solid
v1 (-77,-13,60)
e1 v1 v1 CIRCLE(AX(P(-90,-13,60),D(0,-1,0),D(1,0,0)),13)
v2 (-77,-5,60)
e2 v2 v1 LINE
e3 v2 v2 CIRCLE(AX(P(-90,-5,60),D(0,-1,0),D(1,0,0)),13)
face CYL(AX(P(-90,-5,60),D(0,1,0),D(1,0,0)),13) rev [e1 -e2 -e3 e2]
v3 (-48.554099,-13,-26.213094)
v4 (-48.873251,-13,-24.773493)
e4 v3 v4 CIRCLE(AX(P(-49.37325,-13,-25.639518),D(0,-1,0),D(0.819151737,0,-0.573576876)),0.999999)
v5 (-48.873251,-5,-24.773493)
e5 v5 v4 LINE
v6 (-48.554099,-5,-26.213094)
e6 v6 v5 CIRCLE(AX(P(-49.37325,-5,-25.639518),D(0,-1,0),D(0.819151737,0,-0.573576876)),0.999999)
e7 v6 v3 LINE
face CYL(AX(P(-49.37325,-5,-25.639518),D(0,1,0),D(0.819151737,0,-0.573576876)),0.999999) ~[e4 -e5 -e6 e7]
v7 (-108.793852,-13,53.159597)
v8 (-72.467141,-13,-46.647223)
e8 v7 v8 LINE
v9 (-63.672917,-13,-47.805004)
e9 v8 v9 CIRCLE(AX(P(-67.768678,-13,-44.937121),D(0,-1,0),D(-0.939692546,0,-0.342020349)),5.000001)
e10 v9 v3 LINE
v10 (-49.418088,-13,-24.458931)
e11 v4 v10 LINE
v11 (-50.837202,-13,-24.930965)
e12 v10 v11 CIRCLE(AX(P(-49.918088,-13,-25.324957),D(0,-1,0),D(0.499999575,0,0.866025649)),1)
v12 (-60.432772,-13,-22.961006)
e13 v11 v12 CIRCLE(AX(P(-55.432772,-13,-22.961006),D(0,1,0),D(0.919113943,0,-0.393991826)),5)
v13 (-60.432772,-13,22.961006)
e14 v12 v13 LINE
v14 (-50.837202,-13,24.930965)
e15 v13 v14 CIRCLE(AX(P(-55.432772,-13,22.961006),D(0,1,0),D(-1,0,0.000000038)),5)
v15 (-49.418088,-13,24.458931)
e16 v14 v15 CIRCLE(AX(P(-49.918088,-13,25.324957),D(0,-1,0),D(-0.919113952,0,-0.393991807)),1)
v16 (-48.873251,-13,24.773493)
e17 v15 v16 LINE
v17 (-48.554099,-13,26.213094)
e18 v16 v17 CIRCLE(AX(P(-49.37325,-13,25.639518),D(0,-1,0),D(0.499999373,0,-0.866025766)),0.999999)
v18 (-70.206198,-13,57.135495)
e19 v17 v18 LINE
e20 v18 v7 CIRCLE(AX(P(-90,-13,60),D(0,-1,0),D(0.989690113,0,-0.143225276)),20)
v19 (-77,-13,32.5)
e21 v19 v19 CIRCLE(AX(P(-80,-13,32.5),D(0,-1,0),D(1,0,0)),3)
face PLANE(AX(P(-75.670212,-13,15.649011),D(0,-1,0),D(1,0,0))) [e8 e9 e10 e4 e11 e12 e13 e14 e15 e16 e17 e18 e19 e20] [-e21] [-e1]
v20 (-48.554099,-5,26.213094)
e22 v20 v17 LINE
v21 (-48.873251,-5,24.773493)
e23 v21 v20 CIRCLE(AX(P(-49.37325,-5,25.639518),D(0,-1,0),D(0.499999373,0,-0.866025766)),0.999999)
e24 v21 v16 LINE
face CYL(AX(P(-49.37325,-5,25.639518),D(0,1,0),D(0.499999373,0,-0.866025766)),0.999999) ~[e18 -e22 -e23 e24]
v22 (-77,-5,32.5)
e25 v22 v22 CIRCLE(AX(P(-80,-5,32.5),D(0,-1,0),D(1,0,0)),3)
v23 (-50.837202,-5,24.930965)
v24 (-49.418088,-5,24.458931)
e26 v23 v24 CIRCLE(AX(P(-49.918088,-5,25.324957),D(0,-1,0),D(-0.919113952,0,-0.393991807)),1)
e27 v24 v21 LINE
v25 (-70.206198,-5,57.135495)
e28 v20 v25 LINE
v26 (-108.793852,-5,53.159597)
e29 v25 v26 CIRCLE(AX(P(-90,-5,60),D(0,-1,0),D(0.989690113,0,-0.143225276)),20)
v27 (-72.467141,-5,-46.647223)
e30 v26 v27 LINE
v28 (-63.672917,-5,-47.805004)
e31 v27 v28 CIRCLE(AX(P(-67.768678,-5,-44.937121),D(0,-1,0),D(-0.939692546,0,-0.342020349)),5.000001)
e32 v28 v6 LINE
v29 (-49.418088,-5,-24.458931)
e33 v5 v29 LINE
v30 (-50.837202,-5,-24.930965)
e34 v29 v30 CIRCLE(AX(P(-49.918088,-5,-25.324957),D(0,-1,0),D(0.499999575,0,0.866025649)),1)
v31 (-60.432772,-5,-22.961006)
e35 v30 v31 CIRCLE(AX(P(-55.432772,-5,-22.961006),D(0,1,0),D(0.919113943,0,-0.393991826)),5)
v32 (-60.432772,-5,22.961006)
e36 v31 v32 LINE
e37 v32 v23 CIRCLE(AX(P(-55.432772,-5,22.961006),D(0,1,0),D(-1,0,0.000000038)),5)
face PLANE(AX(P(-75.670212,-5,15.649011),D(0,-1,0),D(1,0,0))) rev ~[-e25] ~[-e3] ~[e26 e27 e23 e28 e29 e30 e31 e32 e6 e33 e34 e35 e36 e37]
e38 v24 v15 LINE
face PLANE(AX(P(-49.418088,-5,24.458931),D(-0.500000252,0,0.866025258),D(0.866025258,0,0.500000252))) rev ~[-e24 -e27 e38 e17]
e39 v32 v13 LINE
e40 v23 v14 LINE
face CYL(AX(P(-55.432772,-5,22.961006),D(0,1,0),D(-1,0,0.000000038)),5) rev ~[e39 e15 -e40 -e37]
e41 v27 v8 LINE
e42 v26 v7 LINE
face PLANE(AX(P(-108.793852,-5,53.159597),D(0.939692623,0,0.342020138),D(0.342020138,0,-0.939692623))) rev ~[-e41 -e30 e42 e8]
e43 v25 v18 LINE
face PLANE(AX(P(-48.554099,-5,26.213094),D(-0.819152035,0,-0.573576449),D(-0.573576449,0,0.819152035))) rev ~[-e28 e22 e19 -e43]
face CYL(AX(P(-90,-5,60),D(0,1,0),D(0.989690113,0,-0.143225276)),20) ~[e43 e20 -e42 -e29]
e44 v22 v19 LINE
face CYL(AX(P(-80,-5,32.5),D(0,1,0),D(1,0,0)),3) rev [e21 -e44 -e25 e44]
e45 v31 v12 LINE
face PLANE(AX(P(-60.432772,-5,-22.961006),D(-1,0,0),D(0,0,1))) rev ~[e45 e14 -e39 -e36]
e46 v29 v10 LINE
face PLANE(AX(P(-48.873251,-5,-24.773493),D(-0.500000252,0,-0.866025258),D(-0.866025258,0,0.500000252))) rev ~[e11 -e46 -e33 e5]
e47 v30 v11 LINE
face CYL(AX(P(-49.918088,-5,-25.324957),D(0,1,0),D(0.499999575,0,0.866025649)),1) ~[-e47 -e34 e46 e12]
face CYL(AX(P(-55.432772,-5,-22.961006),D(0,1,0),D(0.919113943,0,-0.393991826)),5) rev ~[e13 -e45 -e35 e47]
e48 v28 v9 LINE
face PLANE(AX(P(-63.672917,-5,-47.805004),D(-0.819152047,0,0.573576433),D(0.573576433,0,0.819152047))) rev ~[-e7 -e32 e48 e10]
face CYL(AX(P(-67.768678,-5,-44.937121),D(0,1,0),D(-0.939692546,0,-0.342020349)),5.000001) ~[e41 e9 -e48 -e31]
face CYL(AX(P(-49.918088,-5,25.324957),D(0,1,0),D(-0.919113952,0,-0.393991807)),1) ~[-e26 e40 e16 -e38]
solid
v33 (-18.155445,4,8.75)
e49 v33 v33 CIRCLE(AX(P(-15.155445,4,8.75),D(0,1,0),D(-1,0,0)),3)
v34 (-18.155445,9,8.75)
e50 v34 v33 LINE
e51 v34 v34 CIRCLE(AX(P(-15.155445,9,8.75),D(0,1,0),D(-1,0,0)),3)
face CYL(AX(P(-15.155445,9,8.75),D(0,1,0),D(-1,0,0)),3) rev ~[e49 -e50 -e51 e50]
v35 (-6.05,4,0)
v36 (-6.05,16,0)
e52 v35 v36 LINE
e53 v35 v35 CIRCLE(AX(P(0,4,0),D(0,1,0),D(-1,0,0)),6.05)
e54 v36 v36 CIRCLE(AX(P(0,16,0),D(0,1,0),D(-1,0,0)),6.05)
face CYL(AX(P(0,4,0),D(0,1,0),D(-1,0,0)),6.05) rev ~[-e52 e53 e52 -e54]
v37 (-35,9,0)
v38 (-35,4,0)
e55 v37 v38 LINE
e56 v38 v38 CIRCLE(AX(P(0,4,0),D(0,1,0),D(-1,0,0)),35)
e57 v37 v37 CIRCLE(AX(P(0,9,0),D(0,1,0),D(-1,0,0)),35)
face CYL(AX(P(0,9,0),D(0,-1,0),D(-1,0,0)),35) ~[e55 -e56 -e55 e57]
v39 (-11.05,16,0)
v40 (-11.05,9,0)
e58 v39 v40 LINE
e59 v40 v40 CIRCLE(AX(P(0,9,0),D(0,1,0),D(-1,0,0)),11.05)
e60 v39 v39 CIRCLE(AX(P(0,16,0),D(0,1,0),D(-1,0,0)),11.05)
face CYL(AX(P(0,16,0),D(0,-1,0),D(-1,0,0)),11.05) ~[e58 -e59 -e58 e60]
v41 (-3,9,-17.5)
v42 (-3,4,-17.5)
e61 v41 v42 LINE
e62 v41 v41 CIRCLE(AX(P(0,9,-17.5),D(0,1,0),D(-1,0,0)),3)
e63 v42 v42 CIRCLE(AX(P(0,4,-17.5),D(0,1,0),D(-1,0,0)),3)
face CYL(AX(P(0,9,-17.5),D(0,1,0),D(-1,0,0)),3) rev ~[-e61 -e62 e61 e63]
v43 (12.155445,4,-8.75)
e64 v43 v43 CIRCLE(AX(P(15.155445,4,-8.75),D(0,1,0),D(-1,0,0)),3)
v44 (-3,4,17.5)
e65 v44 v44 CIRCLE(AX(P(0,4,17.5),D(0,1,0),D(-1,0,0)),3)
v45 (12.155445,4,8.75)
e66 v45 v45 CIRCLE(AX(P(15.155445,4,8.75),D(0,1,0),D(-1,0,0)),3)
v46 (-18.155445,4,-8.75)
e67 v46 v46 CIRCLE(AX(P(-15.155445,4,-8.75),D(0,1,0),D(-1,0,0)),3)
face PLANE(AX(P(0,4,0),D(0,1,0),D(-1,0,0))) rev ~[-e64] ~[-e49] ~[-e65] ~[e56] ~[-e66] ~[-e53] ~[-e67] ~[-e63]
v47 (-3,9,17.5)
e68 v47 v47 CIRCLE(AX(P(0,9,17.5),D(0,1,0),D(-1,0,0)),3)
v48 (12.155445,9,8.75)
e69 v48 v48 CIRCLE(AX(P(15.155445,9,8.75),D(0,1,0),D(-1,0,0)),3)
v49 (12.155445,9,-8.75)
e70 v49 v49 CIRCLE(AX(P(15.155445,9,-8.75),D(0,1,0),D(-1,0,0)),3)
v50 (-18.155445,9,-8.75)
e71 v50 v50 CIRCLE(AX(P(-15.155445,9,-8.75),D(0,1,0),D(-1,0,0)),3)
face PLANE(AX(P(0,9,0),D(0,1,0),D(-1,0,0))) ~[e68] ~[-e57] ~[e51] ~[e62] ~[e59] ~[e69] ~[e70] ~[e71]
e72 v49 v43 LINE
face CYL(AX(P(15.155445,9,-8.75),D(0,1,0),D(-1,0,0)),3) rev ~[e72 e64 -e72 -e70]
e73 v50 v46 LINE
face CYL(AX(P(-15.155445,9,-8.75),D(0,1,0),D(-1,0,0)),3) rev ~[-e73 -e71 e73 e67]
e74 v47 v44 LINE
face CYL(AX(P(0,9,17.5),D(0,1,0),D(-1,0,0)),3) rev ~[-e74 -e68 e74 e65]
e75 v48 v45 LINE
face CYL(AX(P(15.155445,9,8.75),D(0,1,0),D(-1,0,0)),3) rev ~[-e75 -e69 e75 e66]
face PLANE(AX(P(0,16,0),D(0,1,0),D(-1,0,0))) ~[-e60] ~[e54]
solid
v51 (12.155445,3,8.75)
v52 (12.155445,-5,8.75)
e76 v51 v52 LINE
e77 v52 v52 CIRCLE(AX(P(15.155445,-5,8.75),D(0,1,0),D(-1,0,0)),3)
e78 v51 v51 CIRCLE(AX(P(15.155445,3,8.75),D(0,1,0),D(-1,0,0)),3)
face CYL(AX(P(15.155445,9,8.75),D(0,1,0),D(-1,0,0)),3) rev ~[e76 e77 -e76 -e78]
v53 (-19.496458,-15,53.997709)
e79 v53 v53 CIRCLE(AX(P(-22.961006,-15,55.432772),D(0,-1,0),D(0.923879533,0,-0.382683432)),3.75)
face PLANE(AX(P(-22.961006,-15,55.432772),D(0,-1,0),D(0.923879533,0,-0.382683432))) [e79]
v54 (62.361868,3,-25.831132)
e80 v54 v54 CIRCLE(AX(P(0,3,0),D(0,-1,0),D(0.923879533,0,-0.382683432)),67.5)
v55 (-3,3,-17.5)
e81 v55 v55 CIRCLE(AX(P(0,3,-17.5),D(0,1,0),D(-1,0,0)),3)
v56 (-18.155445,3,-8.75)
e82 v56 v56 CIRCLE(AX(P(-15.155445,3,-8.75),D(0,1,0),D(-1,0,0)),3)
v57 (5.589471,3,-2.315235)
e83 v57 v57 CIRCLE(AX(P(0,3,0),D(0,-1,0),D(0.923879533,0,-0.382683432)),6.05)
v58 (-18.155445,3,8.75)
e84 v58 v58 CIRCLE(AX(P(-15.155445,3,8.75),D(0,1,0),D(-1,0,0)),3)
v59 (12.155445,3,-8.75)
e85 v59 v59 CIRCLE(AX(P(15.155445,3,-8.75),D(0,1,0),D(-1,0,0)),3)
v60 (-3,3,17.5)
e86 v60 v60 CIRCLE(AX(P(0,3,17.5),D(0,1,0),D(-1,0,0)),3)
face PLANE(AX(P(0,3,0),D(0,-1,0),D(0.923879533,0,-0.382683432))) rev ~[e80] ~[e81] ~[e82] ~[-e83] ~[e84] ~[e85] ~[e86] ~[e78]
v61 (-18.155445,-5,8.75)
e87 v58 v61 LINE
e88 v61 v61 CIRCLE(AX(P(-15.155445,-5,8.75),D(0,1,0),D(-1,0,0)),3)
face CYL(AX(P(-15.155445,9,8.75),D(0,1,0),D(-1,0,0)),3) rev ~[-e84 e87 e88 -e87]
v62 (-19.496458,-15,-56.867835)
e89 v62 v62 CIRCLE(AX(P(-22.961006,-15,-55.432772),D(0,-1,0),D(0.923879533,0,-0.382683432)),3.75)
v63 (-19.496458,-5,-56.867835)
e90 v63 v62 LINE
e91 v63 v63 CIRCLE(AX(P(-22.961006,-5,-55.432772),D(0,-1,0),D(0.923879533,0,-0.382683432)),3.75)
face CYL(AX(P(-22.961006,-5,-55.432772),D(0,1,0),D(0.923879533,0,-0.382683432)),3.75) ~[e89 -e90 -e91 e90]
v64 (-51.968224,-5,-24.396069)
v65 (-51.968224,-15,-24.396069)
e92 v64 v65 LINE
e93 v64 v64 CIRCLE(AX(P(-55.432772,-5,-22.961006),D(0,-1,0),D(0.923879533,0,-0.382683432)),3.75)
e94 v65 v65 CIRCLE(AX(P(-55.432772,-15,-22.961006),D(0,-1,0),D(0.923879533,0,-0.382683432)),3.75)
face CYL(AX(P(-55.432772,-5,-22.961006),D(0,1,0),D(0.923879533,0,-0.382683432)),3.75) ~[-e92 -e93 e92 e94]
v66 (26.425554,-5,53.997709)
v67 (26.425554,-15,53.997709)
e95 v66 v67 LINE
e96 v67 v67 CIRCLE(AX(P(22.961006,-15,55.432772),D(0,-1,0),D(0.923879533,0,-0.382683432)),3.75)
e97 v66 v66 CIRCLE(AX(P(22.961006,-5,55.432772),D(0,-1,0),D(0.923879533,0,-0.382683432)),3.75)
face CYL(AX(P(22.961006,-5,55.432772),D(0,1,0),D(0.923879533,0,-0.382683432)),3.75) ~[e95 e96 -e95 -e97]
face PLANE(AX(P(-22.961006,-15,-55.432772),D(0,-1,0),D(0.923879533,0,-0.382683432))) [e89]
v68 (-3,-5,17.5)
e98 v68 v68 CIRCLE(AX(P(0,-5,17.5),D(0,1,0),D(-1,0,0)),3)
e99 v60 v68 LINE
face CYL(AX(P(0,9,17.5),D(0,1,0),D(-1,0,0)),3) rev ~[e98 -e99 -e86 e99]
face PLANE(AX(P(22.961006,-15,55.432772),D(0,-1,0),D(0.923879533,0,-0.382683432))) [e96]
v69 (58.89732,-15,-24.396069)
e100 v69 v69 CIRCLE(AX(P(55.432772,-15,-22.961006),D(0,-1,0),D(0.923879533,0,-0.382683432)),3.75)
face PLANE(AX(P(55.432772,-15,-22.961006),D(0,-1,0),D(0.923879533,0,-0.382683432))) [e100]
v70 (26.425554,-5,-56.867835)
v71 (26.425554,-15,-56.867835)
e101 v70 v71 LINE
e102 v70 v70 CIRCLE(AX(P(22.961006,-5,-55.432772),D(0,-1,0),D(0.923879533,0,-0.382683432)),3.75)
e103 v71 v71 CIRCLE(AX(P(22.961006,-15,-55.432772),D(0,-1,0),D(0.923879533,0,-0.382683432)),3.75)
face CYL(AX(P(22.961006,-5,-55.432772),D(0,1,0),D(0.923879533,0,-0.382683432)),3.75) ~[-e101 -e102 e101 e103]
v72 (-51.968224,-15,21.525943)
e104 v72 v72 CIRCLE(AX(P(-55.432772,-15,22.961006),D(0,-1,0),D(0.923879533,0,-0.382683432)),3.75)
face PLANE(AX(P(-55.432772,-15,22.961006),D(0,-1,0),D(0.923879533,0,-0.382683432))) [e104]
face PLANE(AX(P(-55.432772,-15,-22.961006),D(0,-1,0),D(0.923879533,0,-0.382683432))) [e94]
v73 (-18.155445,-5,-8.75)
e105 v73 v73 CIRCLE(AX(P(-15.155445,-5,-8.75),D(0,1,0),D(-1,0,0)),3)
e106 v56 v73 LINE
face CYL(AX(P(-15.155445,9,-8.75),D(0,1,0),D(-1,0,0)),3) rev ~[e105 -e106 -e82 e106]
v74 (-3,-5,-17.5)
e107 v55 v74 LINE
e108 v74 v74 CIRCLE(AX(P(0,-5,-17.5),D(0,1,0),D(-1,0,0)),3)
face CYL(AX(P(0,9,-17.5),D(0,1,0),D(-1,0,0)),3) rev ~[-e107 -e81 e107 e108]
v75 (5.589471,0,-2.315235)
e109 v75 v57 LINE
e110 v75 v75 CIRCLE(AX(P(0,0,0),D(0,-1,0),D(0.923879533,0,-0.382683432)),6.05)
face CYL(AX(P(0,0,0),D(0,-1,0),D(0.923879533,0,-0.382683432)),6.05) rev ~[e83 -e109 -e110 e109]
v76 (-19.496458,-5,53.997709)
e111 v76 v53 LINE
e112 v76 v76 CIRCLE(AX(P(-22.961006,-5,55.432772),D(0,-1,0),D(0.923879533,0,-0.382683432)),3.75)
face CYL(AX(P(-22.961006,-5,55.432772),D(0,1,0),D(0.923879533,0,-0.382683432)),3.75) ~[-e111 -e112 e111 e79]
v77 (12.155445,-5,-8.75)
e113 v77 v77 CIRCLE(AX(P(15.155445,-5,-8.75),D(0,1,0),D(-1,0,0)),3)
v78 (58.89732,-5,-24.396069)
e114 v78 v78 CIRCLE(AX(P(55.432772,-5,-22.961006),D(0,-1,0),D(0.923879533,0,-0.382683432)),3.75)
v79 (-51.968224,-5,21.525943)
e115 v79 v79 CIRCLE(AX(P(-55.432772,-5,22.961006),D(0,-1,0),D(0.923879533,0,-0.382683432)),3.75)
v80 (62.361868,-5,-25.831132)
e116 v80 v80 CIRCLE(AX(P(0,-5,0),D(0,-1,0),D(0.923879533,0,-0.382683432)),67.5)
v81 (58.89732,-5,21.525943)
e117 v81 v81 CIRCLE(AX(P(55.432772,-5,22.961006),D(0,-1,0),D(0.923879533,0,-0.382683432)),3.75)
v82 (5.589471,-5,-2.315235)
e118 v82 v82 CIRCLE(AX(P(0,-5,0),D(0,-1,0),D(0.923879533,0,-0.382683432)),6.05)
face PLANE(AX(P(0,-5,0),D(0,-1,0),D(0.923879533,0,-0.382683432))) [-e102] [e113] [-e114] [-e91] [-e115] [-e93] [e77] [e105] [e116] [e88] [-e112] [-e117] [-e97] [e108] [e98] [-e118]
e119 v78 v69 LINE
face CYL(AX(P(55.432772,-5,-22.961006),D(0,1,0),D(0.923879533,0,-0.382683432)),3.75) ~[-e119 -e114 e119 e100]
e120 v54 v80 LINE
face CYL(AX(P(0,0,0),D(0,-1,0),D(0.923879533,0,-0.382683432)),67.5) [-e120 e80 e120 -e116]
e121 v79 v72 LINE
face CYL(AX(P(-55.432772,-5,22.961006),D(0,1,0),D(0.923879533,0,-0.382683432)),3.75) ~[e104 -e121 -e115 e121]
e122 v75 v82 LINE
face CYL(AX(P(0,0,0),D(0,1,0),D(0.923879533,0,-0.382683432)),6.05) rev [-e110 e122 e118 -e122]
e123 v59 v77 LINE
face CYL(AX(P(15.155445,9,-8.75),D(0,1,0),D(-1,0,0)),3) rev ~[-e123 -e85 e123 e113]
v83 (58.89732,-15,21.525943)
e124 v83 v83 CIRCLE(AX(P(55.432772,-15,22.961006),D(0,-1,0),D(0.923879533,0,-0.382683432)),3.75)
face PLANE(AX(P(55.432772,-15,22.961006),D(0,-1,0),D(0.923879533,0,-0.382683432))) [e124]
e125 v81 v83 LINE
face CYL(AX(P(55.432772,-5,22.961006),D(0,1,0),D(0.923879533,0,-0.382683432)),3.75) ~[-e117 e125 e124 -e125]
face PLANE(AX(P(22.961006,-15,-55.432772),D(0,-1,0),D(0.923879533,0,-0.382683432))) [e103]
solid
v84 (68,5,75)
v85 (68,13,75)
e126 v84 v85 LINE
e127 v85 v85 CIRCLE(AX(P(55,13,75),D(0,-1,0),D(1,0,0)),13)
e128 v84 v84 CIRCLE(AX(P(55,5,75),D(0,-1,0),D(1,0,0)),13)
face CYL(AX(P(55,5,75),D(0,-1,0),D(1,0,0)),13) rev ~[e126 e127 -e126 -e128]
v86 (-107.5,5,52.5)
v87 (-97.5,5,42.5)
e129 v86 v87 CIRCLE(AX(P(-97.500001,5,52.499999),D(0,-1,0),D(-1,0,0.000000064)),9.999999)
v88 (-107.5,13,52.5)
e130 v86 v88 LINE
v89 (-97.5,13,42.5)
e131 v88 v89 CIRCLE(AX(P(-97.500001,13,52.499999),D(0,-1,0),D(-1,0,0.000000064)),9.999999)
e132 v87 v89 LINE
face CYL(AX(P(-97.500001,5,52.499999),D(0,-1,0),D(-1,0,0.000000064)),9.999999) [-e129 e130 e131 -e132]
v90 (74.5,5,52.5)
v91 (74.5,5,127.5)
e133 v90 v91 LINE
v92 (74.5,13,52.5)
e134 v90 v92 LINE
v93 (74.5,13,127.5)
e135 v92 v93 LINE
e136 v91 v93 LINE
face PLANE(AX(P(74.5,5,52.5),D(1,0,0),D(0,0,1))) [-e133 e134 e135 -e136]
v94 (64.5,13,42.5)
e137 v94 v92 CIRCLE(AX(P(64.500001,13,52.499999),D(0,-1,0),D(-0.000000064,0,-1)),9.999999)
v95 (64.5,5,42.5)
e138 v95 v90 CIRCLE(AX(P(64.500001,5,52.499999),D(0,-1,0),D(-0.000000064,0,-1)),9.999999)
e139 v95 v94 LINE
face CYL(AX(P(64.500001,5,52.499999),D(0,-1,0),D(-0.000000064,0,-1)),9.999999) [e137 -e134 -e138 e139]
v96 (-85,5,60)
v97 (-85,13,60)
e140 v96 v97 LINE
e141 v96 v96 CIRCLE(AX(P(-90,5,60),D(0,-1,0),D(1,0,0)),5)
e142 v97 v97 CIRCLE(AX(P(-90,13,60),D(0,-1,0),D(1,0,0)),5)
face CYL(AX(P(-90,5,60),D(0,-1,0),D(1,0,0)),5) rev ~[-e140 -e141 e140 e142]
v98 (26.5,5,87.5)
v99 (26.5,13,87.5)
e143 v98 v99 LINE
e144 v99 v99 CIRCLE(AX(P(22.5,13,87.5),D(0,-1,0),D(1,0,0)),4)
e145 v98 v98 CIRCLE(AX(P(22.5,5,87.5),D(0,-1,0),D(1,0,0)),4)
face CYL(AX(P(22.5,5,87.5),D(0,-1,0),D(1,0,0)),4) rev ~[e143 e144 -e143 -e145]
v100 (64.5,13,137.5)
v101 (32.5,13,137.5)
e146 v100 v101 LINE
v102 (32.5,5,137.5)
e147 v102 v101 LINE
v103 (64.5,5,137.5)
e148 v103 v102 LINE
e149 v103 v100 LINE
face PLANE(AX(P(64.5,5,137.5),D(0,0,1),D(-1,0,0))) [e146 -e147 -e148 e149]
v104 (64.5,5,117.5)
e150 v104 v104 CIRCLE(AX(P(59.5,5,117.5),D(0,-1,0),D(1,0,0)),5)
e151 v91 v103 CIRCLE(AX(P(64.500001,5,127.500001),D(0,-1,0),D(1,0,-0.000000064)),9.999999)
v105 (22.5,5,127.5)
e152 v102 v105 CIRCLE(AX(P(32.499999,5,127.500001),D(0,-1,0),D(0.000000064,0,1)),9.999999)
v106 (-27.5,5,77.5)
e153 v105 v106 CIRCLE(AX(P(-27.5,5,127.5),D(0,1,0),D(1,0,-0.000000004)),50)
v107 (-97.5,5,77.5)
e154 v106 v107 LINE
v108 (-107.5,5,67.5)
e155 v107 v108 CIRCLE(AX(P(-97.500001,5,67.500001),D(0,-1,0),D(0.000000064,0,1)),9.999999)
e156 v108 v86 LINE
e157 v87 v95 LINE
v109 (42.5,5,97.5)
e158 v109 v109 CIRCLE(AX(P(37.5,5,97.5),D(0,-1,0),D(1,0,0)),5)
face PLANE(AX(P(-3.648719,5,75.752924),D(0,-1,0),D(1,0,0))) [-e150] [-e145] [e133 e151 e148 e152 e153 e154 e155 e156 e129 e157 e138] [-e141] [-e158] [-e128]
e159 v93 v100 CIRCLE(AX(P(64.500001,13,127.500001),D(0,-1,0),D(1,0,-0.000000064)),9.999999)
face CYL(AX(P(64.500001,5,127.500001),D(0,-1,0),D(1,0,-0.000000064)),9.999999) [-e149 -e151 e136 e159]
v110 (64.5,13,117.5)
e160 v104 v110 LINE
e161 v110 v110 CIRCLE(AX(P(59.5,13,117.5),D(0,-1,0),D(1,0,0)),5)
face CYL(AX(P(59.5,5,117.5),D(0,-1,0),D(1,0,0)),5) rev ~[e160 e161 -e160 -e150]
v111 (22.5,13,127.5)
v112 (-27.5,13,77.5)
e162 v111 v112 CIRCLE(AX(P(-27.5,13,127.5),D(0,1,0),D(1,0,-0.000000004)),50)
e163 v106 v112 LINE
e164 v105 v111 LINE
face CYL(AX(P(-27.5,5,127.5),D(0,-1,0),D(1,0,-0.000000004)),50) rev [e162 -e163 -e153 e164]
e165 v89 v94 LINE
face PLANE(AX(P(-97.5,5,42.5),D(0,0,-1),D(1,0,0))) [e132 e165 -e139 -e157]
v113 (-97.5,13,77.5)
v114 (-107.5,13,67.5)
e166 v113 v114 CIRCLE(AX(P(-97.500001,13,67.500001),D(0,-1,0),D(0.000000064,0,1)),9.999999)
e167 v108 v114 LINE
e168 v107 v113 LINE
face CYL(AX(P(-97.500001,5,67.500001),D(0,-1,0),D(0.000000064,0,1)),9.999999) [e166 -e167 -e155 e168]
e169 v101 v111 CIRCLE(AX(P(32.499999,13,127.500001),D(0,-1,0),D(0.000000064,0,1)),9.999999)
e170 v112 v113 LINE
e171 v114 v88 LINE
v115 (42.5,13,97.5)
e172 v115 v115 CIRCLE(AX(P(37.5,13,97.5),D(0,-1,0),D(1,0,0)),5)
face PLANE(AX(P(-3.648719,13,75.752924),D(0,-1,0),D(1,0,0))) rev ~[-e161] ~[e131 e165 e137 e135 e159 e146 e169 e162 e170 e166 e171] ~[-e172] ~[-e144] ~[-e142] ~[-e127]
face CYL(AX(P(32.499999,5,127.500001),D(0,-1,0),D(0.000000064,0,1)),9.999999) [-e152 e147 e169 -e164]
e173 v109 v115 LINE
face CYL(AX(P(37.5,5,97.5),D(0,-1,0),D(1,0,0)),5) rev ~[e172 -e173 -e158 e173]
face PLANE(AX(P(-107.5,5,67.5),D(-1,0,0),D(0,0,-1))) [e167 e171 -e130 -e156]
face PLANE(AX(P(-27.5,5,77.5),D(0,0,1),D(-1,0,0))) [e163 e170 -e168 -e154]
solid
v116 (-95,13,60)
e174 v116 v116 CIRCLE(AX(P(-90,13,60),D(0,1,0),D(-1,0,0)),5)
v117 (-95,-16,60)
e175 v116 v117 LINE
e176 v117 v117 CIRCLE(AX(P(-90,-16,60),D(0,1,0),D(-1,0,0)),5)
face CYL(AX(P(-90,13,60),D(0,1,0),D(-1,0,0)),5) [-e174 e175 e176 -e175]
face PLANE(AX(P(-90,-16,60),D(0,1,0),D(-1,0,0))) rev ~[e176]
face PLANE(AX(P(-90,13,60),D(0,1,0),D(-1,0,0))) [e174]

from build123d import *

# Parameters (mm, degrees)
F0_R          = 67.5
F0_R_2        = 6.05
F1_DEPTH      = 5
F1_DEPTH_BACK = 3
F2_R          = 3.75
F3_DEPTH      = 10
F6_ANGLE      = 22.5
F5_R          = 5
F5_R_2        = 4
F5_R_3        = 13
F7_DEPTH      = 8
F9_R          = 3
F9_R_2        = 13
F10_DEPTH     = 8
F13_R         = 3
F14_DEPTH     = 25
F15_R         = 5
F16_DEPTH     = 29


with BuildPart() as f1:
    # F0 (on Front) → F1 (new body, two sides)
    with BuildSketch(Plane.XZ) as f1_sk:
        Circle(F0_R)
        Circle(F0_R_2, mode=Mode.SUBTRACT)
    extrude(amount=F1_DEPTH)
    extrude(f1_sk.sketch, amount=-F1_DEPTH_BACK)

    # F2 (on face) → F3 (join)
    with BuildSketch(Plane.XZ.offset(5)):
        with Locations((0, 60)):
            Circle(F2_R)
        with Locations((-42.426407, 42.426407)):
            Circle(F2_R)
        with Locations((-60, 0)):
            Circle(F2_R)
        with Locations((-42.426407, -42.426407)):
            Circle(F2_R)
        with Locations((0, -60)):
            Circle(F2_R)
        with Locations((42.426407, -42.426407)):
            Circle(F2_R)
        with Locations((60, 0)):
            Circle(F2_R)
        with Locations((42.426407, 42.426407)):
            Circle(F2_R)
    extrude(amount=F3_DEPTH)


with BuildPart() as f1_1:
    # F6: moved
    add(f1.part.rotate(Axis((0, 22.649996, 0), (0, 1, 0)), F6_ANGLE))


with BuildPart() as f7:
    # F5 (on face) → F7 (new body)
    with BuildSketch(Plane.XZ.offset(5)):
        with BuildLine():
            ThreePointArc((22.5, 127.5), (7.855339, 92.144661), (-27.5, 77.5))
            Line((-27.5, 77.5), (-97.5, 77.5))
            ThreePointArc((-97.5, 77.5), (-104.571068, 74.571068), (-107.5, 67.5))
            Line((-107.5, 67.5), (-107.5, 52.5))
            ThreePointArc((-107.5, 52.5), (-104.571068, 45.428932), (-97.5, 42.5))
            Line((-97.5, 42.5), (-75.623611, 42.5))
            Line((-75.623611, 42.5), (64.5, 42.5))
            ThreePointArc((64.5, 42.5), (71.571068, 45.428932), (74.5, 52.5))
            Line((74.5, 52.5), (74.5, 127.5))
            ThreePointArc((74.5, 127.5), (71.571068, 134.571068), (64.5, 137.5))
            Line((64.5, 137.5), (32.5, 137.5))
            ThreePointArc((32.5, 137.5), (25.428932, 134.571068), (22.5, 127.5))
        make_face()
        with Locations((-90, 60)):
            Circle(F5_R, mode=Mode.SUBTRACT)
        with Locations((22.5, 87.5)):
            Circle(F5_R_2, mode=Mode.SUBTRACT)
        with Locations((55, 75)):
            Circle(F5_R_3, mode=Mode.SUBTRACT)
        with Locations((37.5, 97.5)):
            Circle(F5_R, mode=Mode.SUBTRACT)
        with Locations((59.5, 117.5)):
            Circle(F5_R, mode=Mode.SUBTRACT)
    extrude(amount=-F7_DEPTH)


with BuildPart() as f7_1:
    # F8: moved
    add(f7.part.moved(Location((0, 10, 0))))


with BuildPart() as f10:
    # F9 (on face) → F10 (new body)
    with BuildSketch(Plane.XZ.offset(5)):
        with BuildLine():
            Line((-48.554099, 26.213094), (-70.206198, 57.135495))
            ThreePointArc((-70.206198, 57.135495), (-92.049858, 79.894675), (-108.793852, 53.159597))
            Line((-108.793852, 53.159597), (-72.467141, -46.647223))
            ThreePointArc((-72.467141, -46.647223), (-68.421309, -49.894346), (-63.672917, -47.805004))
            Line((-63.672917, -47.805004), (-48.554099, -26.213094))
            ThreePointArc((-48.554099, -26.213094), (-48.396955, -25.423078), (-48.873251, -24.773493))
            Line((-48.873251, -24.773493), (-49.418088, -24.458931))
            ThreePointArc((-49.418088, -24.458931), (-50.233711, -24.376072), (-50.837202, -24.930965))
            ThreePointArc((-50.837202, -24.930965), (-56.438294, -27.858855), (-60.432772, -22.961006))
            Line((-60.432772, -22.961006), (-60.432772, 22.961006))
            ThreePointArc((-60.432772, 22.961006), (-56.438294, 27.858855), (-50.837202, 24.930965))
            ThreePointArc((-50.837202, 24.930965), (-50.233711, 24.376072), (-49.418088, 24.458931))
            Line((-49.418088, 24.458931), (-48.873251, 24.773493))
            ThreePointArc((-48.873251, 24.773493), (-48.396955, 25.423078), (-48.554099, 26.213094))
        make_face()
        with Locations((-80, 32.5)):
            Circle(F9_R, mode=Mode.SUBTRACT)
        with Locations((-90, 60)):
            Circle(F9_R_2, mode=Mode.SUBTRACT)
    extrude(amount=F10_DEPTH)


with BuildPart() as f12:
    # F11 (on Top) → F12 (revolve)
    with BuildSketch(Plane.XY):
        Polygon((-35, 4), (-6.05, 4), (-6.05, 16), (-11.05, 16), (-11.05, 9), (-35, 9), align=None)
    revolve(axis=Axis((0, 5.664475, 0), (0, 1, 0)))


with BuildPart() as f14_tool:
    # F13 (on face) → F14 (new body)
    with BuildSketch(Plane(origin=(0, 9, 0), x_dir=(-1, 0, 0), z_dir=(0, 1, 0))):
        with Locations((0, 17.5)):
            Circle(F13_R)
        with Locations((-15.155445, 8.75)):
            Circle(F13_R)
        with Locations((-15.155445, -8.75)):
            Circle(F13_R)
        with Locations((0, -17.5)):
            Circle(F13_R)
        with Locations((15.155445, -8.75)):
            Circle(F13_R)
        with Locations((15.155445, 8.75)):
            Circle(F13_R)
    extrude(amount=-F14_DEPTH)


with BuildPart() as f1_2:
    add(f1_1.part)

    # F14: cut by f14_tool
    add(f14_tool.part, mode=Mode.SUBTRACT)


with BuildPart() as f12_1:
    add(f12.part)

    # F14: cut by f14_tool
    add(f14_tool.part, mode=Mode.SUBTRACT)


with BuildPart() as f16:
    # F15 (on face) → F16 (new body)
    with BuildSketch(Plane(origin=(0, 13, 0), x_dir=(-1, 0, 0), z_dir=(0, 1, 0))):
        with Locations((90, 60)):
            Circle(F15_R)
    extrude(amount=-F16_DEPTH)


solid = Compound([f7_1.part, f10.part, f1_2.part, f12_1.part, f16.part])
